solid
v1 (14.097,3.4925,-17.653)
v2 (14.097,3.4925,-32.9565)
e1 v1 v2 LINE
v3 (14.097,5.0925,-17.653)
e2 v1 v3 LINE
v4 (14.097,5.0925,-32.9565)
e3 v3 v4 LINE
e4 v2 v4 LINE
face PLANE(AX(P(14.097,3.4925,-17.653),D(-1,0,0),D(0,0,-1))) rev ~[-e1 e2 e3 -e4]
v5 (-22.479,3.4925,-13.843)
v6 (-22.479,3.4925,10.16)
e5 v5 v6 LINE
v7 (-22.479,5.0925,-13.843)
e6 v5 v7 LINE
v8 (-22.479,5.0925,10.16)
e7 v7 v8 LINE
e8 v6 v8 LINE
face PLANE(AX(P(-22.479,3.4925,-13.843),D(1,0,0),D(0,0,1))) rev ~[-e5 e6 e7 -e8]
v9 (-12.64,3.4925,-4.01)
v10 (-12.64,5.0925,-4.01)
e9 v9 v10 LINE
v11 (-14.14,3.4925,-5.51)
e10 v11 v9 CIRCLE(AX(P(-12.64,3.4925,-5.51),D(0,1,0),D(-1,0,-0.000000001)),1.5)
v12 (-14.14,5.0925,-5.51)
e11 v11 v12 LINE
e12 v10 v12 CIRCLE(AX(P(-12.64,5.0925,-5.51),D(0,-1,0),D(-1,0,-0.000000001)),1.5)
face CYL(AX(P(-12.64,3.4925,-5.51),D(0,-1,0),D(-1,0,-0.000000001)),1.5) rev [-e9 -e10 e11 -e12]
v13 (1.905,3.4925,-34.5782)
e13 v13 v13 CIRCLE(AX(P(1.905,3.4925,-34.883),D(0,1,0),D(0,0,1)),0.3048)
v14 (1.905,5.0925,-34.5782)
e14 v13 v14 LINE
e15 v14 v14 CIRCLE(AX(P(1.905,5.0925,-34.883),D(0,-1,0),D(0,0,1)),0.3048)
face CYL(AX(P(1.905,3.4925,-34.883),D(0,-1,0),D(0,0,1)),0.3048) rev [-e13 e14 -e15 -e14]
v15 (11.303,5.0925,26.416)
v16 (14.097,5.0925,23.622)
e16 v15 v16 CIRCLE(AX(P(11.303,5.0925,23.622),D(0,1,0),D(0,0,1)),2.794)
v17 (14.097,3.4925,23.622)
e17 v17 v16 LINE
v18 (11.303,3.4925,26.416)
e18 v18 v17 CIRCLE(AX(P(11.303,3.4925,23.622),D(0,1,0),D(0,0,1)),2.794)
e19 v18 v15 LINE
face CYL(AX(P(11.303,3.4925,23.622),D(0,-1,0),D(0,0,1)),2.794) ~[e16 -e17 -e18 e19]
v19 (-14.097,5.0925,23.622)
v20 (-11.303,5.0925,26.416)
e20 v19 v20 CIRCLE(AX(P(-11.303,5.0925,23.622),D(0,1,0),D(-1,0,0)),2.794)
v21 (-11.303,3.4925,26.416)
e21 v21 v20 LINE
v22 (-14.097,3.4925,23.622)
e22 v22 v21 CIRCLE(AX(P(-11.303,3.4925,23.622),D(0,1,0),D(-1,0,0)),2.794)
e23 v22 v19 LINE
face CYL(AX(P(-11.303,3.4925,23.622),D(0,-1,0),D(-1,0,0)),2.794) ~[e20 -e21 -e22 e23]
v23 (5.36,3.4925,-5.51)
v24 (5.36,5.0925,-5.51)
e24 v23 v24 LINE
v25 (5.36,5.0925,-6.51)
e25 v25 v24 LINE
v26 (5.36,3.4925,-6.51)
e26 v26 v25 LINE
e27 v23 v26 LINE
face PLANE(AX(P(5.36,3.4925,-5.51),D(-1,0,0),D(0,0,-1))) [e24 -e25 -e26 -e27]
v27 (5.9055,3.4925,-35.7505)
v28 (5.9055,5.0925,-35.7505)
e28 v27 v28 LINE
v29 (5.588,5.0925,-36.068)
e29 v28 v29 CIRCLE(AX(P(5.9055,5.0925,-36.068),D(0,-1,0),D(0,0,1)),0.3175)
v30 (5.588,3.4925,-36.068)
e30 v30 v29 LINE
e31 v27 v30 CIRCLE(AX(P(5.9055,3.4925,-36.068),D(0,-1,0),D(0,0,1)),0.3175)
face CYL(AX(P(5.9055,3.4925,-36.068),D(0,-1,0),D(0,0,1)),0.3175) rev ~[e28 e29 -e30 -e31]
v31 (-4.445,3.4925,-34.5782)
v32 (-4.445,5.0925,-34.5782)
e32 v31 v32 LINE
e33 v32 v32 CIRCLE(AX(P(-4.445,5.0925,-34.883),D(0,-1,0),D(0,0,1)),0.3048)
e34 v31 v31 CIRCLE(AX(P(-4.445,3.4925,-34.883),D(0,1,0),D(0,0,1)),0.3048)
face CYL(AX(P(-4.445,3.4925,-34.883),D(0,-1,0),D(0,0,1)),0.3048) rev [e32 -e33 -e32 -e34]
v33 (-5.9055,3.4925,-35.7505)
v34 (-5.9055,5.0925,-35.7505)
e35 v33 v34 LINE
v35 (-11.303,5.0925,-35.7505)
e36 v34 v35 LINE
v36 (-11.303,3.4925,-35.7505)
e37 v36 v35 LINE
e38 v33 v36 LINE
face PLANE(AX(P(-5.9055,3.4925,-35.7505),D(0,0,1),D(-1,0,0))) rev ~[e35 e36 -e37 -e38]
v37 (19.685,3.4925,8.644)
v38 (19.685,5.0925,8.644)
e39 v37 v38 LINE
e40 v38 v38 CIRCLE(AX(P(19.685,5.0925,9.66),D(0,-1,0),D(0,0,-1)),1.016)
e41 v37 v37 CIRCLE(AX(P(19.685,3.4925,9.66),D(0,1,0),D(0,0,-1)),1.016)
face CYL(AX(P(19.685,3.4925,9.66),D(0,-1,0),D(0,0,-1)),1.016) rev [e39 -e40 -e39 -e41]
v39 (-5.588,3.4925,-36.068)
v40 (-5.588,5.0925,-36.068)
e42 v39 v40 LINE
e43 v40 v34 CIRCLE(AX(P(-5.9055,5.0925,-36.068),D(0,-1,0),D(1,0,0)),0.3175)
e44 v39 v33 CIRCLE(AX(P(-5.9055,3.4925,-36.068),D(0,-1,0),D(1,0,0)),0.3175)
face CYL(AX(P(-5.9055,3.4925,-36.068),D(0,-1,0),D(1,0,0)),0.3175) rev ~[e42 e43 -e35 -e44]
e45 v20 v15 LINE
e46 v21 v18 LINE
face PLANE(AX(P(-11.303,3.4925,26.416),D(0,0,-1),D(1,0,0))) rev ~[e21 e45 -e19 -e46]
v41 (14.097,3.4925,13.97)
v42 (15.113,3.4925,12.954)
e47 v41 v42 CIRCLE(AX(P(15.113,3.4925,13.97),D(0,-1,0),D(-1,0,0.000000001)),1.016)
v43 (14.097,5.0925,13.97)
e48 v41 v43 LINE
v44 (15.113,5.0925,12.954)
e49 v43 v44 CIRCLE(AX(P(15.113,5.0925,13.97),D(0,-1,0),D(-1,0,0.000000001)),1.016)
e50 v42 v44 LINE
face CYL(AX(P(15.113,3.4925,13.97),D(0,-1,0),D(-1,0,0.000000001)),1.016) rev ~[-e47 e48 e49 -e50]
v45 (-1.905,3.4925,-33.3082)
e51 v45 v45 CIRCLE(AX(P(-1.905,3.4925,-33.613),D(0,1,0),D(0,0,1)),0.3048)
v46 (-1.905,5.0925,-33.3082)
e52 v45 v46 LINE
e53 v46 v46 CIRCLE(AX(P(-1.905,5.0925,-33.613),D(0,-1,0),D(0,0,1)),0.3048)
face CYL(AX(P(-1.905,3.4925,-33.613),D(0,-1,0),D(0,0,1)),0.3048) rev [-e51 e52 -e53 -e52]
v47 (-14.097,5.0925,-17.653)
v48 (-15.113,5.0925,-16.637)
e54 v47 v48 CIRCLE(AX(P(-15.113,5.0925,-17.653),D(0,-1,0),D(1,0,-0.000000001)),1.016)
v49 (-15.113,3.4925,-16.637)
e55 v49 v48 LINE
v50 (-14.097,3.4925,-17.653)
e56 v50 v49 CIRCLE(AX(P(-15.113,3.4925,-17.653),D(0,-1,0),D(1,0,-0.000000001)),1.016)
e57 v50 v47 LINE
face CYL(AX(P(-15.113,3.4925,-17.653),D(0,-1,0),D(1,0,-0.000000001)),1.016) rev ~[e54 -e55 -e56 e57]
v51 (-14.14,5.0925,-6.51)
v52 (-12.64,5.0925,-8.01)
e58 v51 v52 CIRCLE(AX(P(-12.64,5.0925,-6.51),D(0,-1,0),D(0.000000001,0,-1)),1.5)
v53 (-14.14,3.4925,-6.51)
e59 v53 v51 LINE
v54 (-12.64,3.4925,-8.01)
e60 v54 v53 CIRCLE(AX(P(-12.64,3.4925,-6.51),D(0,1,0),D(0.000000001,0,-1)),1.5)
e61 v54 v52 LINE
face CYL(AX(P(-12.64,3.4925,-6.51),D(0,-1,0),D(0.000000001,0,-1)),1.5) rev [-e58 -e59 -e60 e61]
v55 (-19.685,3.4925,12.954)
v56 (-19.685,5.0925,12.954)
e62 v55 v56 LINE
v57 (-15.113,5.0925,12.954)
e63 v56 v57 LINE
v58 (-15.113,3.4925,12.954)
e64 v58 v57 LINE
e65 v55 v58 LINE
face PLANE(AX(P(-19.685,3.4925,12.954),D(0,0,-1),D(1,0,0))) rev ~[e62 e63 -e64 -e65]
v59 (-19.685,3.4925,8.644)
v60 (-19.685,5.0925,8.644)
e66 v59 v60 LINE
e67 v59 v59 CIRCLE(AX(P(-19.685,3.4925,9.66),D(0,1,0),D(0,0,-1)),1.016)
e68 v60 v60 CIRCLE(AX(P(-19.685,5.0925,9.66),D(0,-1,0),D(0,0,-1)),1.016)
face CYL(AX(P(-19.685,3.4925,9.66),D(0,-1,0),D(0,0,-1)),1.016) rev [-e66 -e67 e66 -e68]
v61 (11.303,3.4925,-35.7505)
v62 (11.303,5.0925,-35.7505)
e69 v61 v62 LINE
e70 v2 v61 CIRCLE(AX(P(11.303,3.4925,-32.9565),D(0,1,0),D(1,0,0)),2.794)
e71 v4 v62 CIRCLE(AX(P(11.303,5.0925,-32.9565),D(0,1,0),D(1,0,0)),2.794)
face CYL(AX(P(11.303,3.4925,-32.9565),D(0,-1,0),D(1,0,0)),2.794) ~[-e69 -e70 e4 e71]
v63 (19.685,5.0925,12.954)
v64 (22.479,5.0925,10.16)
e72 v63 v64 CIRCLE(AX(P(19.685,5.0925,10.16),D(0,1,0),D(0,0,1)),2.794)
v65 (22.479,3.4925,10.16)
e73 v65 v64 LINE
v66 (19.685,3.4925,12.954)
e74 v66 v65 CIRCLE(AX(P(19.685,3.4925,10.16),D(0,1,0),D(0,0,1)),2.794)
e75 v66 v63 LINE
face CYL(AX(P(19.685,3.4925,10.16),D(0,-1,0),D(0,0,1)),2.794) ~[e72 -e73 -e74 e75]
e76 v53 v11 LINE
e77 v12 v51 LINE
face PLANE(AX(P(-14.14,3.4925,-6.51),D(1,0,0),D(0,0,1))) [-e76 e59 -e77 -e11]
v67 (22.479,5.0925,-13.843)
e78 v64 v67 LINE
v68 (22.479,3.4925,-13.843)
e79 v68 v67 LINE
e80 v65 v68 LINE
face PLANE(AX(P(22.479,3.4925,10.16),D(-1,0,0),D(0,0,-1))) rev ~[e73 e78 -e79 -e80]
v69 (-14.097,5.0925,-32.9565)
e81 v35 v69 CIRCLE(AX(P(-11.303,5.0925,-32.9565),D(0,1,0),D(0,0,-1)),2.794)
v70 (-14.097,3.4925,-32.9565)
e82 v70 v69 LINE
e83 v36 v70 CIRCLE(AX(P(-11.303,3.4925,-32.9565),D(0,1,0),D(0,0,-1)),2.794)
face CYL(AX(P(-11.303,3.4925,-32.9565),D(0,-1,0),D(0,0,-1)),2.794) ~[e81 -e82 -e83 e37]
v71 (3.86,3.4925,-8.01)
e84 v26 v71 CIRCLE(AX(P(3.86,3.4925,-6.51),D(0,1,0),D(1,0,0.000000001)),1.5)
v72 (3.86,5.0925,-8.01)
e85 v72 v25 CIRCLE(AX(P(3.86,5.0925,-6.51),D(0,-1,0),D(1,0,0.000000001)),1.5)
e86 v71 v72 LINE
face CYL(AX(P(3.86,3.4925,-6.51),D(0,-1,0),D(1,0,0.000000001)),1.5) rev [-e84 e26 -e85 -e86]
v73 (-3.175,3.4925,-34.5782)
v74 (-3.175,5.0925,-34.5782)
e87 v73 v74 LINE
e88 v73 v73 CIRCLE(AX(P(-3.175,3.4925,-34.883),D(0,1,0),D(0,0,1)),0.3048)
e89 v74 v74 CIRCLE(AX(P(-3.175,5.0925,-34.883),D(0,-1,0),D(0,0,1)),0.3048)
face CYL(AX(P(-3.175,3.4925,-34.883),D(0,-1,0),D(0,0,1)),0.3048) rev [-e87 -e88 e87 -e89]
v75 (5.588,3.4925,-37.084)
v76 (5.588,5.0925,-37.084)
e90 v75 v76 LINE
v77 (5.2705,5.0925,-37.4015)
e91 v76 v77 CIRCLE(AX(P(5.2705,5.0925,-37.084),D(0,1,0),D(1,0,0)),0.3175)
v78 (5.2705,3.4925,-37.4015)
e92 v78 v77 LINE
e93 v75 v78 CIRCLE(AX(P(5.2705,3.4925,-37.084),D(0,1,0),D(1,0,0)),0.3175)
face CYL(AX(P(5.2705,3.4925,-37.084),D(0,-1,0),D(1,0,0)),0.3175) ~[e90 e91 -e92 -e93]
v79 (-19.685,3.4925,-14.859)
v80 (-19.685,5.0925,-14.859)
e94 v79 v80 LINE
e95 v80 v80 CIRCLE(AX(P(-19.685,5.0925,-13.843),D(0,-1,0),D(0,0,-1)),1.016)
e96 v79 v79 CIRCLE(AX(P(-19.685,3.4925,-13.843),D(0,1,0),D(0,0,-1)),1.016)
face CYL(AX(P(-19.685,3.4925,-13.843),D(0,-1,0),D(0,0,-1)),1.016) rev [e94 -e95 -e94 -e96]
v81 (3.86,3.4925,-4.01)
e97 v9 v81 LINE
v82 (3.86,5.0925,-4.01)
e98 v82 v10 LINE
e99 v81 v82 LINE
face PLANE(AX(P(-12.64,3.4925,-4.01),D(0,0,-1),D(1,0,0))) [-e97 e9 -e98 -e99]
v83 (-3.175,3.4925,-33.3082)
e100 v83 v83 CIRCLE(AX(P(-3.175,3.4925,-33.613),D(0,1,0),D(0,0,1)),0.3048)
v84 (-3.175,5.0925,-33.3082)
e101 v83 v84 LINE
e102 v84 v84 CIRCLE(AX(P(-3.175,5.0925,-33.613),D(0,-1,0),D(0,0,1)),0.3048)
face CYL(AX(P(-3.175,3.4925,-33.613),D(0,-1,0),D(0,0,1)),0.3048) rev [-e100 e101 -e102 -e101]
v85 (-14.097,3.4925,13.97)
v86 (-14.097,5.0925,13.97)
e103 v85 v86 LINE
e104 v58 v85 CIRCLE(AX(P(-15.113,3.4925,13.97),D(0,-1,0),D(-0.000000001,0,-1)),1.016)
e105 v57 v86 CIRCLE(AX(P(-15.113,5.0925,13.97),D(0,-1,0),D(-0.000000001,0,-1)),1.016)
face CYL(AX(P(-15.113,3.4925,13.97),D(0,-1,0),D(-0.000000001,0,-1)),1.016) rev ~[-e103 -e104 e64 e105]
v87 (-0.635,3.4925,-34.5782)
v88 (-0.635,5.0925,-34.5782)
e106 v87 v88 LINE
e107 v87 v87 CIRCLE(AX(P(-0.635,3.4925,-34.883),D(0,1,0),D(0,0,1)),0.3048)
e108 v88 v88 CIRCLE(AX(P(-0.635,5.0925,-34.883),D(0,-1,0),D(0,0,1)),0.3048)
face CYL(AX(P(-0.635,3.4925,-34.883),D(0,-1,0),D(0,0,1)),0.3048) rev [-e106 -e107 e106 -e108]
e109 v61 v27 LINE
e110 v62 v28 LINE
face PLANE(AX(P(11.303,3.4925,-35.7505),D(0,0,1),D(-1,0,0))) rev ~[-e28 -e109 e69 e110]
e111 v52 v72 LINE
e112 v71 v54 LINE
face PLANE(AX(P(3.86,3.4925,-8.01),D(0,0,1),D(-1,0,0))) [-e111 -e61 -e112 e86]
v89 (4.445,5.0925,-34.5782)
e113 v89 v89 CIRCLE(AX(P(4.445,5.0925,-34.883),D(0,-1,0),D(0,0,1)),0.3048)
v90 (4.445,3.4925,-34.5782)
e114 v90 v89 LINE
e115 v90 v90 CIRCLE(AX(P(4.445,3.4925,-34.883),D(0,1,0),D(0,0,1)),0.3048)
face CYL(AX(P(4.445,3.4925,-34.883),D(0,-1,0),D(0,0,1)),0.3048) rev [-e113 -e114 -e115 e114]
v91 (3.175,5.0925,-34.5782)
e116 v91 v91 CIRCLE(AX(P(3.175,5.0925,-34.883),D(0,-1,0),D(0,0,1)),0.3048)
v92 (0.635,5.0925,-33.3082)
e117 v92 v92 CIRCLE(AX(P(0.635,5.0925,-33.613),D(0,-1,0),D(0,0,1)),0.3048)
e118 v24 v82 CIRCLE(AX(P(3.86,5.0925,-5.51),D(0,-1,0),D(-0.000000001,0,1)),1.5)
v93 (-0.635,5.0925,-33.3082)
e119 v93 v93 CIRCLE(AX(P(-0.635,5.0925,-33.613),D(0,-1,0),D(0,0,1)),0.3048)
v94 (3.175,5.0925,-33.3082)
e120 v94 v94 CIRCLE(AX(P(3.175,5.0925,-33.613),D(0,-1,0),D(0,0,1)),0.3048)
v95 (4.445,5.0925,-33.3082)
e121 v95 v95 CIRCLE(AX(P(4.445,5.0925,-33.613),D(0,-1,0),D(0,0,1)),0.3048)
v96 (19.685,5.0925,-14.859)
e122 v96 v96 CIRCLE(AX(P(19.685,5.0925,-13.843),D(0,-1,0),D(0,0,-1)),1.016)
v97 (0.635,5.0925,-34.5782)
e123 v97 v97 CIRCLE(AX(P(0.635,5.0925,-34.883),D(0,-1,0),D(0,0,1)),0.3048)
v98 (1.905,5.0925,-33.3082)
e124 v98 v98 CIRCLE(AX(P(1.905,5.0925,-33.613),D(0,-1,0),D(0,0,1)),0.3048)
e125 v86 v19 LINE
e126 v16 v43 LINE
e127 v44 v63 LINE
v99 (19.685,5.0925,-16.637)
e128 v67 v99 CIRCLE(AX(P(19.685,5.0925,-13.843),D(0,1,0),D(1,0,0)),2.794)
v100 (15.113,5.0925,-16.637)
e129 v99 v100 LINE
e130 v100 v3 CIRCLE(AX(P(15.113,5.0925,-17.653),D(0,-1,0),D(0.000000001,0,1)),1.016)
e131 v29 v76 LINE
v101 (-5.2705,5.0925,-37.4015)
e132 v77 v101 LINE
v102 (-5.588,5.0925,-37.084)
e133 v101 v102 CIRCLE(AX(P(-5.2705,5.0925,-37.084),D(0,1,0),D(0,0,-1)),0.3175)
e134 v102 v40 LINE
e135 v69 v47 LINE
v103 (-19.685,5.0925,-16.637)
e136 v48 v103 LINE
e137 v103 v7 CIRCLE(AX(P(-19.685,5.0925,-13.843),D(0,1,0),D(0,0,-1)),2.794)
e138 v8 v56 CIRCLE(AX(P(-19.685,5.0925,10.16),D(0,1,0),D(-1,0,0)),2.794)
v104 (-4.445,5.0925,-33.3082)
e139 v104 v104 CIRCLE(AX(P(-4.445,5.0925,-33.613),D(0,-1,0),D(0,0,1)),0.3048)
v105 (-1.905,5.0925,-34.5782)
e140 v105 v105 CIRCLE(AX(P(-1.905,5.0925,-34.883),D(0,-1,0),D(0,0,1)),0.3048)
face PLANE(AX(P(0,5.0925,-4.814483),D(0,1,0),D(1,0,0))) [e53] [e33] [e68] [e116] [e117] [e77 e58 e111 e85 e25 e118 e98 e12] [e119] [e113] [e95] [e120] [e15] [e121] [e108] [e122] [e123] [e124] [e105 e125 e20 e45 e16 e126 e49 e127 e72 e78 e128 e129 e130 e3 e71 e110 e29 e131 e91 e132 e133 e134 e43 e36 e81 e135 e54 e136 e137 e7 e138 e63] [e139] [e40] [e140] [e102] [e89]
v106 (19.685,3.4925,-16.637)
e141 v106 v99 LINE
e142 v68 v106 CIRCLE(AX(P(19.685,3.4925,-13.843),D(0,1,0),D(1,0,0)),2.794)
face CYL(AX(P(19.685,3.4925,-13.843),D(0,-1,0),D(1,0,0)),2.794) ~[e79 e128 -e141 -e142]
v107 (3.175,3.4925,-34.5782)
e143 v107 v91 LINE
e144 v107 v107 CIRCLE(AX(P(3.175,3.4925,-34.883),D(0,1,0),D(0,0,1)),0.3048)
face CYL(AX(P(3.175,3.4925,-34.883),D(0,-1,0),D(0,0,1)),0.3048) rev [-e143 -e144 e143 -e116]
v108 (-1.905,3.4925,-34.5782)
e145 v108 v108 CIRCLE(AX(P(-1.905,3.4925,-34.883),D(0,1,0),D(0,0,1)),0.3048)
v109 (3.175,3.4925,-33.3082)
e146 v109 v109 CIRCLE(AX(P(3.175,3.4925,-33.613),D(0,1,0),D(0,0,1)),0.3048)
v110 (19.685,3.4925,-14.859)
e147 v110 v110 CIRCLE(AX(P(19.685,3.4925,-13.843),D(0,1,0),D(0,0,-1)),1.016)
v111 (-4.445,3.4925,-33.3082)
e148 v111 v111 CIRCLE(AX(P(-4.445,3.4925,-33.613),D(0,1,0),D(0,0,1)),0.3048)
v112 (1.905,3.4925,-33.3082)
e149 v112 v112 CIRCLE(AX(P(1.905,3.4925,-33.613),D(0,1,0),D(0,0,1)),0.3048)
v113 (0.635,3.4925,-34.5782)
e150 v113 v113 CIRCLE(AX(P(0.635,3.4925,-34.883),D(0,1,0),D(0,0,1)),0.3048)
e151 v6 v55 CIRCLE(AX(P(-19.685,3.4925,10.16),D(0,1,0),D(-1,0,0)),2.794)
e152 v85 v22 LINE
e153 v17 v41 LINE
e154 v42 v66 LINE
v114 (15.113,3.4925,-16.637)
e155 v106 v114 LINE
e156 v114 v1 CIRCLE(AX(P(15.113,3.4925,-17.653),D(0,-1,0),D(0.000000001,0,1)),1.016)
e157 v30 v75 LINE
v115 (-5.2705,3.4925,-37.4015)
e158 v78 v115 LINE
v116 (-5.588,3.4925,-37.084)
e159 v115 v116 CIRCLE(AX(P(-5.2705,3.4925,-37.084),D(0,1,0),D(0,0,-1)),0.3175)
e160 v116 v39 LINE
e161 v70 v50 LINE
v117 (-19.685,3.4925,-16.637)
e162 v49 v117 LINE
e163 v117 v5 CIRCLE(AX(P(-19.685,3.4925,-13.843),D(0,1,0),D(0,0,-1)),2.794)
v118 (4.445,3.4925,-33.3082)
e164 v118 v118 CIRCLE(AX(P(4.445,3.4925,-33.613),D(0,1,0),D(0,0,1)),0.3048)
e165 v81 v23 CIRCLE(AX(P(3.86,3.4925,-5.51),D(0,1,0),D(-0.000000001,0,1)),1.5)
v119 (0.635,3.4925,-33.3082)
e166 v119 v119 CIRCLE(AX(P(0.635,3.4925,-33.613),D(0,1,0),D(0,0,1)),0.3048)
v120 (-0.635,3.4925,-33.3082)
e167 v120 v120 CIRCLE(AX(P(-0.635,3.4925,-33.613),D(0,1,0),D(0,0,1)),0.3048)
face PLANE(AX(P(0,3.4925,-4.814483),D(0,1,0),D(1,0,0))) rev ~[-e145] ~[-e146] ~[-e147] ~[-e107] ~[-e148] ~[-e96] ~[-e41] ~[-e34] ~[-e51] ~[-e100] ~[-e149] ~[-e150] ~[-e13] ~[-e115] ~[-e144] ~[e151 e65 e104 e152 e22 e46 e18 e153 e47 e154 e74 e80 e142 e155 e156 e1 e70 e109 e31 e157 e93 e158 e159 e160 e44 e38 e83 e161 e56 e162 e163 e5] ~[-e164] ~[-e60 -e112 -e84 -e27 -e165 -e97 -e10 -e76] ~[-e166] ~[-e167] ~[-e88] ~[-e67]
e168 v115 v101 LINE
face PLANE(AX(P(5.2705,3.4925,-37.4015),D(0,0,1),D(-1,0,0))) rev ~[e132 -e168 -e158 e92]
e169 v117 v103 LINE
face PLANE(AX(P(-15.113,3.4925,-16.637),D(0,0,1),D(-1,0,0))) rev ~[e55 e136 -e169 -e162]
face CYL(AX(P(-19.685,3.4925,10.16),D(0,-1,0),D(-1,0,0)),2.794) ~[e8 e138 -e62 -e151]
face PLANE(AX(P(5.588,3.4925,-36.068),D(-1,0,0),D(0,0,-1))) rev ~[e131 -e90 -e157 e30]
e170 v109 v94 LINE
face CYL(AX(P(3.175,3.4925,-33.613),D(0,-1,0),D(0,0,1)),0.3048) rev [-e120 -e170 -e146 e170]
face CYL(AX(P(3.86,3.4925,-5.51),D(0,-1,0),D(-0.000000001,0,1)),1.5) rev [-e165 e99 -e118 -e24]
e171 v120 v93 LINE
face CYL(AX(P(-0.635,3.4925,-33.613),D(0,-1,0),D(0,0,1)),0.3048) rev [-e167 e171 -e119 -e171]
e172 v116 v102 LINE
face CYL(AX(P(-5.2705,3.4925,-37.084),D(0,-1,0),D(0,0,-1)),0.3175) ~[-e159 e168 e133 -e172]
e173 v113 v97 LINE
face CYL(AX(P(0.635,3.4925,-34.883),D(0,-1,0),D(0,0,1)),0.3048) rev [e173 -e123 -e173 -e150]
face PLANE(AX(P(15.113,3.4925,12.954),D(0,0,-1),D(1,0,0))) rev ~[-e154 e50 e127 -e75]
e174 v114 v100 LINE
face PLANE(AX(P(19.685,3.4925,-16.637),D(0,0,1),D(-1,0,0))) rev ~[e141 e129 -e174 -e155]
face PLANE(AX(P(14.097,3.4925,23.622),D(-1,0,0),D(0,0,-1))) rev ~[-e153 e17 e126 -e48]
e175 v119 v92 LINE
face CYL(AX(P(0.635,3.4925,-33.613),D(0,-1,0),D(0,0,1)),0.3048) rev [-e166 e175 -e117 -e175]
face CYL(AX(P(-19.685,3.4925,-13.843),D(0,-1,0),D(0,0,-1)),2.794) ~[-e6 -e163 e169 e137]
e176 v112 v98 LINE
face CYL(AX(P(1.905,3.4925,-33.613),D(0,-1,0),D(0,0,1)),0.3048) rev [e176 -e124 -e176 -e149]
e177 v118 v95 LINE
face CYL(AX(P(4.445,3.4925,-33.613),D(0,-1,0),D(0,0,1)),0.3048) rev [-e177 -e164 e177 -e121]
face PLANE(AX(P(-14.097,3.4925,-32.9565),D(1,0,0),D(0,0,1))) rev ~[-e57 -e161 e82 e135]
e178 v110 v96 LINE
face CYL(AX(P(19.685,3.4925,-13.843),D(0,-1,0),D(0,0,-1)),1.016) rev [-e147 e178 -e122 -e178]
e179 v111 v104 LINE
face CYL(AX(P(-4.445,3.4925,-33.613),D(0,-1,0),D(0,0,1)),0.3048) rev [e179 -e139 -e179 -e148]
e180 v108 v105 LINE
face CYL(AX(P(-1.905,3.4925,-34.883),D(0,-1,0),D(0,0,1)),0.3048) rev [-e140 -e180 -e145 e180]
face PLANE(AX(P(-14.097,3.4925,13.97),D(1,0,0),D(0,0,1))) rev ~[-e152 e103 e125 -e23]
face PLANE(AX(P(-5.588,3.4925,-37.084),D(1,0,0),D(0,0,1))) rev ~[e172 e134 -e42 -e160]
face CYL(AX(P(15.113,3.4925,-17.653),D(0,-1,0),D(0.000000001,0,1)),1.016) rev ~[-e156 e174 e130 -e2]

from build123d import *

# Parameters (mm, degrees)
BOSS_EXTRUDE1_DEPTH = 1.6
SKETCH2_R           = 1.016
CUT_EXTRUDE1_DEPTH  = 44.666207109
SKETCH3_R           = 0.3048
CUT_EXTRUDE2_DEPTH  = 44.666207109
CUT_EXTRUDE3_DEPTH  = 44.666207109


with BuildPart() as part:
    # Sketch6 → Boss-Extrude1 (new body)
    with BuildSketch(Plane(origin=(0, 3.4925, 0), x_dir=(1, 0, 0), z_dir=(0, 1, 0))):
        with BuildLine():
            Line((14.097, 17.653), (14.097, 32.9565))
            ThreePointArc((14.097, 32.9565), (13.278656347, 34.932156347), (11.303, 35.7505))
            Line((11.303, 35.7505), (5.9055, 35.7505))
            ThreePointArc((5.9055, 35.7505), (5.680993597, 35.843493597), (5.588, 36.068))
            Line((5.588, 36.068), (5.588, 37.084))
            ThreePointArc((5.588, 37.084), (5.495006403, 37.308506403), (5.2705, 37.4015))
            Line((5.2705, 37.4015), (-5.2705, 37.4015))
            ThreePointArc((-5.2705, 37.4015), (-5.495006403, 37.308506403), (-5.588, 37.084))
            Line((-5.588, 37.084), (-5.588, 36.068))
            ThreePointArc((-5.588, 36.068), (-5.680993597, 35.843493597), (-5.9055, 35.7505))
            Line((-5.9055, 35.7505), (-11.303, 35.7505))
            ThreePointArc((-11.303, 35.7505), (-13.278656347, 34.932156347), (-14.097, 32.9565))
            Line((-14.097, 32.9565), (-14.097, 17.653))
            ThreePointArc((-14.097, 17.653), (-14.39457951, 16.93457951), (-15.113, 16.637))
            Line((-15.113, 16.637), (-19.685, 16.637))
            ThreePointArc((-19.685, 16.637), (-21.660656347, 15.818656347), (-22.479, 13.843))
            Line((-22.479, 13.843), (-22.479, -10.16))
            ThreePointArc((-22.479, -10.16), (-21.660656347, -12.135656347), (-19.685, -12.954))
            Line((-19.685, -12.954), (-15.113, -12.954))
            ThreePointArc((-15.113, -12.954), (-14.39457951, -13.25157951), (-14.097, -13.97))
            Line((-14.097, -13.97), (-14.097, -17.653))
            Line((-14.097, -17.653), (-14.097, -23.622))
            ThreePointArc((-14.097, -23.622), (-13.278656347, -25.597656347), (-11.303, -26.416))
            Line((-11.303, -26.416), (11.303, -26.416))
            ThreePointArc((11.303, -26.416), (13.278656347, -25.597656347), (14.097, -23.622))
            Line((14.097, -23.622), (14.097, -17.653))
            Line((14.097, -17.653), (14.097, -13.97))
            ThreePointArc((14.097, -13.97), (14.39457951, -13.25157951), (15.113, -12.954))
            Line((15.113, -12.954), (19.685, -12.954))
            ThreePointArc((19.685, -12.954), (21.660656347, -12.135656347), (22.479, -10.16))
            Line((22.479, -10.16), (22.479, 13.843))
            ThreePointArc((22.479, 13.843), (21.660656347, 15.818656347), (19.685, 16.637))
            Line((19.685, 16.637), (15.113, 16.637))
            ThreePointArc((15.113, 16.637), (14.39457951, 16.93457951), (14.097, 17.653))
        make_face()
    extrude(amount=BOSS_EXTRUDE1_DEPTH)

    # Sketch2 → Cut-Extrude1 (cut, through all)
    with BuildSketch(Plane(origin=(0, 3.4925, 0), x_dir=(1, 0, 0), z_dir=(0, 1, 0))):
        with Locations(Location((19.685, 13.843, 0), (0, 0, 90))):
            Circle(SKETCH2_R)
        with Locations(Location((19.685, -9.66, 0), (0, 0, 90))):
            Circle(SKETCH2_R)
        with Locations(Location((-19.685, -9.66, 0), (0, 0, 90))):
            Circle(SKETCH2_R)
        with Locations(Location((-19.685, 13.843, 0), (0, 0, 90))):
            Circle(SKETCH2_R)
    extrude(amount=CUT_EXTRUDE1_DEPTH, mode=Mode.SUBTRACT)

    # Sketch3 → Cut-Extrude2 (cut, through all)
    with BuildSketch(Plane(origin=(0, 3.4925, 0), x_dir=(1, 0, 0), z_dir=(0, 1, 0))):
        with Locations(Location((-4.445, 33.613, 0), (0, 0, 270))):
            Circle(SKETCH3_R)
        with Locations(Location((-3.175, 33.613, 0), (0, 0, 270))):
            Circle(SKETCH3_R)
        with Locations(Location((-1.905, 33.613, 0), (0, 0, 270))):
            Circle(SKETCH3_R)
        with Locations(Location((-0.635, 33.613, 0), (0, 0, 270))):
            Circle(SKETCH3_R)
        with Locations(Location((0.635, 33.613, 0), (0, 0, 270))):
            Circle(SKETCH3_R)
        with Locations(Location((1.905, 33.613, 0), (0, 0, 270))):
            Circle(SKETCH3_R)
        with Locations(Location((3.175, 33.613, 0), (0, 0, 270))):
            Circle(SKETCH3_R)
        with Locations(Location((4.445, 33.613, 0), (0, 0, 270))):
            Circle(SKETCH3_R)
        with Locations(Location((-3.175, 34.883, 0), (0, 0, 270))):
            Circle(SKETCH3_R)
        with Locations(Location((-1.905, 34.883, 0), (0, 0, 270))):
            Circle(SKETCH3_R)
        with Locations(Location((-0.635, 34.883, 0), (0, 0, 270))):
            Circle(SKETCH3_R)
        with Locations(Location((0.635, 34.883, 0), (0, 0, 270))):
            Circle(SKETCH3_R)
        with Locations(Location((1.905, 34.883, 0), (0, 0, 270))):
            Circle(SKETCH3_R)
        with Locations(Location((3.175, 34.883, 0), (0, 0, 270))):
            Circle(SKETCH3_R)
        with Locations(Location((4.445, 34.883, 0), (0, 0, 270))):
            Circle(SKETCH3_R)
        with Locations(Location((-4.445, 34.883, 0), (0, 0, 270))):
            Circle(SKETCH3_R)
    extrude(amount=CUT_EXTRUDE2_DEPTH, mode=Mode.SUBTRACT)

    # Sketch8 → Cut-Extrude3 (cut, through all)
    with BuildSketch(Plane.XZ.offset(-3.4925)):
        with BuildLine():
            Line((-12.64, -4.01), (3.86, -4.01))
            ThreePointArc((3.86, -4.01), (4.920660172, -4.449339828), (5.36, -5.51))
            Line((5.36, -5.51), (5.36, -6.51))
            ThreePointArc((5.36, -6.51), (4.920660172, -7.570660172), (3.86, -8.01))
            Line((3.86, -8.01), (-12.64, -8.01))
            ThreePointArc((-12.64, -8.01), (-13.700660172, -7.570660172), (-14.14, -6.51))
            Line((-14.14, -6.51), (-14.14, -5.51))
            ThreePointArc((-14.14, -5.51), (-13.700660172, -4.449339828), (-12.64, -4.01))
        make_face()
    extrude(amount=-CUT_EXTRUDE3_DEPTH, mode=Mode.SUBTRACT)


solid = part.part
